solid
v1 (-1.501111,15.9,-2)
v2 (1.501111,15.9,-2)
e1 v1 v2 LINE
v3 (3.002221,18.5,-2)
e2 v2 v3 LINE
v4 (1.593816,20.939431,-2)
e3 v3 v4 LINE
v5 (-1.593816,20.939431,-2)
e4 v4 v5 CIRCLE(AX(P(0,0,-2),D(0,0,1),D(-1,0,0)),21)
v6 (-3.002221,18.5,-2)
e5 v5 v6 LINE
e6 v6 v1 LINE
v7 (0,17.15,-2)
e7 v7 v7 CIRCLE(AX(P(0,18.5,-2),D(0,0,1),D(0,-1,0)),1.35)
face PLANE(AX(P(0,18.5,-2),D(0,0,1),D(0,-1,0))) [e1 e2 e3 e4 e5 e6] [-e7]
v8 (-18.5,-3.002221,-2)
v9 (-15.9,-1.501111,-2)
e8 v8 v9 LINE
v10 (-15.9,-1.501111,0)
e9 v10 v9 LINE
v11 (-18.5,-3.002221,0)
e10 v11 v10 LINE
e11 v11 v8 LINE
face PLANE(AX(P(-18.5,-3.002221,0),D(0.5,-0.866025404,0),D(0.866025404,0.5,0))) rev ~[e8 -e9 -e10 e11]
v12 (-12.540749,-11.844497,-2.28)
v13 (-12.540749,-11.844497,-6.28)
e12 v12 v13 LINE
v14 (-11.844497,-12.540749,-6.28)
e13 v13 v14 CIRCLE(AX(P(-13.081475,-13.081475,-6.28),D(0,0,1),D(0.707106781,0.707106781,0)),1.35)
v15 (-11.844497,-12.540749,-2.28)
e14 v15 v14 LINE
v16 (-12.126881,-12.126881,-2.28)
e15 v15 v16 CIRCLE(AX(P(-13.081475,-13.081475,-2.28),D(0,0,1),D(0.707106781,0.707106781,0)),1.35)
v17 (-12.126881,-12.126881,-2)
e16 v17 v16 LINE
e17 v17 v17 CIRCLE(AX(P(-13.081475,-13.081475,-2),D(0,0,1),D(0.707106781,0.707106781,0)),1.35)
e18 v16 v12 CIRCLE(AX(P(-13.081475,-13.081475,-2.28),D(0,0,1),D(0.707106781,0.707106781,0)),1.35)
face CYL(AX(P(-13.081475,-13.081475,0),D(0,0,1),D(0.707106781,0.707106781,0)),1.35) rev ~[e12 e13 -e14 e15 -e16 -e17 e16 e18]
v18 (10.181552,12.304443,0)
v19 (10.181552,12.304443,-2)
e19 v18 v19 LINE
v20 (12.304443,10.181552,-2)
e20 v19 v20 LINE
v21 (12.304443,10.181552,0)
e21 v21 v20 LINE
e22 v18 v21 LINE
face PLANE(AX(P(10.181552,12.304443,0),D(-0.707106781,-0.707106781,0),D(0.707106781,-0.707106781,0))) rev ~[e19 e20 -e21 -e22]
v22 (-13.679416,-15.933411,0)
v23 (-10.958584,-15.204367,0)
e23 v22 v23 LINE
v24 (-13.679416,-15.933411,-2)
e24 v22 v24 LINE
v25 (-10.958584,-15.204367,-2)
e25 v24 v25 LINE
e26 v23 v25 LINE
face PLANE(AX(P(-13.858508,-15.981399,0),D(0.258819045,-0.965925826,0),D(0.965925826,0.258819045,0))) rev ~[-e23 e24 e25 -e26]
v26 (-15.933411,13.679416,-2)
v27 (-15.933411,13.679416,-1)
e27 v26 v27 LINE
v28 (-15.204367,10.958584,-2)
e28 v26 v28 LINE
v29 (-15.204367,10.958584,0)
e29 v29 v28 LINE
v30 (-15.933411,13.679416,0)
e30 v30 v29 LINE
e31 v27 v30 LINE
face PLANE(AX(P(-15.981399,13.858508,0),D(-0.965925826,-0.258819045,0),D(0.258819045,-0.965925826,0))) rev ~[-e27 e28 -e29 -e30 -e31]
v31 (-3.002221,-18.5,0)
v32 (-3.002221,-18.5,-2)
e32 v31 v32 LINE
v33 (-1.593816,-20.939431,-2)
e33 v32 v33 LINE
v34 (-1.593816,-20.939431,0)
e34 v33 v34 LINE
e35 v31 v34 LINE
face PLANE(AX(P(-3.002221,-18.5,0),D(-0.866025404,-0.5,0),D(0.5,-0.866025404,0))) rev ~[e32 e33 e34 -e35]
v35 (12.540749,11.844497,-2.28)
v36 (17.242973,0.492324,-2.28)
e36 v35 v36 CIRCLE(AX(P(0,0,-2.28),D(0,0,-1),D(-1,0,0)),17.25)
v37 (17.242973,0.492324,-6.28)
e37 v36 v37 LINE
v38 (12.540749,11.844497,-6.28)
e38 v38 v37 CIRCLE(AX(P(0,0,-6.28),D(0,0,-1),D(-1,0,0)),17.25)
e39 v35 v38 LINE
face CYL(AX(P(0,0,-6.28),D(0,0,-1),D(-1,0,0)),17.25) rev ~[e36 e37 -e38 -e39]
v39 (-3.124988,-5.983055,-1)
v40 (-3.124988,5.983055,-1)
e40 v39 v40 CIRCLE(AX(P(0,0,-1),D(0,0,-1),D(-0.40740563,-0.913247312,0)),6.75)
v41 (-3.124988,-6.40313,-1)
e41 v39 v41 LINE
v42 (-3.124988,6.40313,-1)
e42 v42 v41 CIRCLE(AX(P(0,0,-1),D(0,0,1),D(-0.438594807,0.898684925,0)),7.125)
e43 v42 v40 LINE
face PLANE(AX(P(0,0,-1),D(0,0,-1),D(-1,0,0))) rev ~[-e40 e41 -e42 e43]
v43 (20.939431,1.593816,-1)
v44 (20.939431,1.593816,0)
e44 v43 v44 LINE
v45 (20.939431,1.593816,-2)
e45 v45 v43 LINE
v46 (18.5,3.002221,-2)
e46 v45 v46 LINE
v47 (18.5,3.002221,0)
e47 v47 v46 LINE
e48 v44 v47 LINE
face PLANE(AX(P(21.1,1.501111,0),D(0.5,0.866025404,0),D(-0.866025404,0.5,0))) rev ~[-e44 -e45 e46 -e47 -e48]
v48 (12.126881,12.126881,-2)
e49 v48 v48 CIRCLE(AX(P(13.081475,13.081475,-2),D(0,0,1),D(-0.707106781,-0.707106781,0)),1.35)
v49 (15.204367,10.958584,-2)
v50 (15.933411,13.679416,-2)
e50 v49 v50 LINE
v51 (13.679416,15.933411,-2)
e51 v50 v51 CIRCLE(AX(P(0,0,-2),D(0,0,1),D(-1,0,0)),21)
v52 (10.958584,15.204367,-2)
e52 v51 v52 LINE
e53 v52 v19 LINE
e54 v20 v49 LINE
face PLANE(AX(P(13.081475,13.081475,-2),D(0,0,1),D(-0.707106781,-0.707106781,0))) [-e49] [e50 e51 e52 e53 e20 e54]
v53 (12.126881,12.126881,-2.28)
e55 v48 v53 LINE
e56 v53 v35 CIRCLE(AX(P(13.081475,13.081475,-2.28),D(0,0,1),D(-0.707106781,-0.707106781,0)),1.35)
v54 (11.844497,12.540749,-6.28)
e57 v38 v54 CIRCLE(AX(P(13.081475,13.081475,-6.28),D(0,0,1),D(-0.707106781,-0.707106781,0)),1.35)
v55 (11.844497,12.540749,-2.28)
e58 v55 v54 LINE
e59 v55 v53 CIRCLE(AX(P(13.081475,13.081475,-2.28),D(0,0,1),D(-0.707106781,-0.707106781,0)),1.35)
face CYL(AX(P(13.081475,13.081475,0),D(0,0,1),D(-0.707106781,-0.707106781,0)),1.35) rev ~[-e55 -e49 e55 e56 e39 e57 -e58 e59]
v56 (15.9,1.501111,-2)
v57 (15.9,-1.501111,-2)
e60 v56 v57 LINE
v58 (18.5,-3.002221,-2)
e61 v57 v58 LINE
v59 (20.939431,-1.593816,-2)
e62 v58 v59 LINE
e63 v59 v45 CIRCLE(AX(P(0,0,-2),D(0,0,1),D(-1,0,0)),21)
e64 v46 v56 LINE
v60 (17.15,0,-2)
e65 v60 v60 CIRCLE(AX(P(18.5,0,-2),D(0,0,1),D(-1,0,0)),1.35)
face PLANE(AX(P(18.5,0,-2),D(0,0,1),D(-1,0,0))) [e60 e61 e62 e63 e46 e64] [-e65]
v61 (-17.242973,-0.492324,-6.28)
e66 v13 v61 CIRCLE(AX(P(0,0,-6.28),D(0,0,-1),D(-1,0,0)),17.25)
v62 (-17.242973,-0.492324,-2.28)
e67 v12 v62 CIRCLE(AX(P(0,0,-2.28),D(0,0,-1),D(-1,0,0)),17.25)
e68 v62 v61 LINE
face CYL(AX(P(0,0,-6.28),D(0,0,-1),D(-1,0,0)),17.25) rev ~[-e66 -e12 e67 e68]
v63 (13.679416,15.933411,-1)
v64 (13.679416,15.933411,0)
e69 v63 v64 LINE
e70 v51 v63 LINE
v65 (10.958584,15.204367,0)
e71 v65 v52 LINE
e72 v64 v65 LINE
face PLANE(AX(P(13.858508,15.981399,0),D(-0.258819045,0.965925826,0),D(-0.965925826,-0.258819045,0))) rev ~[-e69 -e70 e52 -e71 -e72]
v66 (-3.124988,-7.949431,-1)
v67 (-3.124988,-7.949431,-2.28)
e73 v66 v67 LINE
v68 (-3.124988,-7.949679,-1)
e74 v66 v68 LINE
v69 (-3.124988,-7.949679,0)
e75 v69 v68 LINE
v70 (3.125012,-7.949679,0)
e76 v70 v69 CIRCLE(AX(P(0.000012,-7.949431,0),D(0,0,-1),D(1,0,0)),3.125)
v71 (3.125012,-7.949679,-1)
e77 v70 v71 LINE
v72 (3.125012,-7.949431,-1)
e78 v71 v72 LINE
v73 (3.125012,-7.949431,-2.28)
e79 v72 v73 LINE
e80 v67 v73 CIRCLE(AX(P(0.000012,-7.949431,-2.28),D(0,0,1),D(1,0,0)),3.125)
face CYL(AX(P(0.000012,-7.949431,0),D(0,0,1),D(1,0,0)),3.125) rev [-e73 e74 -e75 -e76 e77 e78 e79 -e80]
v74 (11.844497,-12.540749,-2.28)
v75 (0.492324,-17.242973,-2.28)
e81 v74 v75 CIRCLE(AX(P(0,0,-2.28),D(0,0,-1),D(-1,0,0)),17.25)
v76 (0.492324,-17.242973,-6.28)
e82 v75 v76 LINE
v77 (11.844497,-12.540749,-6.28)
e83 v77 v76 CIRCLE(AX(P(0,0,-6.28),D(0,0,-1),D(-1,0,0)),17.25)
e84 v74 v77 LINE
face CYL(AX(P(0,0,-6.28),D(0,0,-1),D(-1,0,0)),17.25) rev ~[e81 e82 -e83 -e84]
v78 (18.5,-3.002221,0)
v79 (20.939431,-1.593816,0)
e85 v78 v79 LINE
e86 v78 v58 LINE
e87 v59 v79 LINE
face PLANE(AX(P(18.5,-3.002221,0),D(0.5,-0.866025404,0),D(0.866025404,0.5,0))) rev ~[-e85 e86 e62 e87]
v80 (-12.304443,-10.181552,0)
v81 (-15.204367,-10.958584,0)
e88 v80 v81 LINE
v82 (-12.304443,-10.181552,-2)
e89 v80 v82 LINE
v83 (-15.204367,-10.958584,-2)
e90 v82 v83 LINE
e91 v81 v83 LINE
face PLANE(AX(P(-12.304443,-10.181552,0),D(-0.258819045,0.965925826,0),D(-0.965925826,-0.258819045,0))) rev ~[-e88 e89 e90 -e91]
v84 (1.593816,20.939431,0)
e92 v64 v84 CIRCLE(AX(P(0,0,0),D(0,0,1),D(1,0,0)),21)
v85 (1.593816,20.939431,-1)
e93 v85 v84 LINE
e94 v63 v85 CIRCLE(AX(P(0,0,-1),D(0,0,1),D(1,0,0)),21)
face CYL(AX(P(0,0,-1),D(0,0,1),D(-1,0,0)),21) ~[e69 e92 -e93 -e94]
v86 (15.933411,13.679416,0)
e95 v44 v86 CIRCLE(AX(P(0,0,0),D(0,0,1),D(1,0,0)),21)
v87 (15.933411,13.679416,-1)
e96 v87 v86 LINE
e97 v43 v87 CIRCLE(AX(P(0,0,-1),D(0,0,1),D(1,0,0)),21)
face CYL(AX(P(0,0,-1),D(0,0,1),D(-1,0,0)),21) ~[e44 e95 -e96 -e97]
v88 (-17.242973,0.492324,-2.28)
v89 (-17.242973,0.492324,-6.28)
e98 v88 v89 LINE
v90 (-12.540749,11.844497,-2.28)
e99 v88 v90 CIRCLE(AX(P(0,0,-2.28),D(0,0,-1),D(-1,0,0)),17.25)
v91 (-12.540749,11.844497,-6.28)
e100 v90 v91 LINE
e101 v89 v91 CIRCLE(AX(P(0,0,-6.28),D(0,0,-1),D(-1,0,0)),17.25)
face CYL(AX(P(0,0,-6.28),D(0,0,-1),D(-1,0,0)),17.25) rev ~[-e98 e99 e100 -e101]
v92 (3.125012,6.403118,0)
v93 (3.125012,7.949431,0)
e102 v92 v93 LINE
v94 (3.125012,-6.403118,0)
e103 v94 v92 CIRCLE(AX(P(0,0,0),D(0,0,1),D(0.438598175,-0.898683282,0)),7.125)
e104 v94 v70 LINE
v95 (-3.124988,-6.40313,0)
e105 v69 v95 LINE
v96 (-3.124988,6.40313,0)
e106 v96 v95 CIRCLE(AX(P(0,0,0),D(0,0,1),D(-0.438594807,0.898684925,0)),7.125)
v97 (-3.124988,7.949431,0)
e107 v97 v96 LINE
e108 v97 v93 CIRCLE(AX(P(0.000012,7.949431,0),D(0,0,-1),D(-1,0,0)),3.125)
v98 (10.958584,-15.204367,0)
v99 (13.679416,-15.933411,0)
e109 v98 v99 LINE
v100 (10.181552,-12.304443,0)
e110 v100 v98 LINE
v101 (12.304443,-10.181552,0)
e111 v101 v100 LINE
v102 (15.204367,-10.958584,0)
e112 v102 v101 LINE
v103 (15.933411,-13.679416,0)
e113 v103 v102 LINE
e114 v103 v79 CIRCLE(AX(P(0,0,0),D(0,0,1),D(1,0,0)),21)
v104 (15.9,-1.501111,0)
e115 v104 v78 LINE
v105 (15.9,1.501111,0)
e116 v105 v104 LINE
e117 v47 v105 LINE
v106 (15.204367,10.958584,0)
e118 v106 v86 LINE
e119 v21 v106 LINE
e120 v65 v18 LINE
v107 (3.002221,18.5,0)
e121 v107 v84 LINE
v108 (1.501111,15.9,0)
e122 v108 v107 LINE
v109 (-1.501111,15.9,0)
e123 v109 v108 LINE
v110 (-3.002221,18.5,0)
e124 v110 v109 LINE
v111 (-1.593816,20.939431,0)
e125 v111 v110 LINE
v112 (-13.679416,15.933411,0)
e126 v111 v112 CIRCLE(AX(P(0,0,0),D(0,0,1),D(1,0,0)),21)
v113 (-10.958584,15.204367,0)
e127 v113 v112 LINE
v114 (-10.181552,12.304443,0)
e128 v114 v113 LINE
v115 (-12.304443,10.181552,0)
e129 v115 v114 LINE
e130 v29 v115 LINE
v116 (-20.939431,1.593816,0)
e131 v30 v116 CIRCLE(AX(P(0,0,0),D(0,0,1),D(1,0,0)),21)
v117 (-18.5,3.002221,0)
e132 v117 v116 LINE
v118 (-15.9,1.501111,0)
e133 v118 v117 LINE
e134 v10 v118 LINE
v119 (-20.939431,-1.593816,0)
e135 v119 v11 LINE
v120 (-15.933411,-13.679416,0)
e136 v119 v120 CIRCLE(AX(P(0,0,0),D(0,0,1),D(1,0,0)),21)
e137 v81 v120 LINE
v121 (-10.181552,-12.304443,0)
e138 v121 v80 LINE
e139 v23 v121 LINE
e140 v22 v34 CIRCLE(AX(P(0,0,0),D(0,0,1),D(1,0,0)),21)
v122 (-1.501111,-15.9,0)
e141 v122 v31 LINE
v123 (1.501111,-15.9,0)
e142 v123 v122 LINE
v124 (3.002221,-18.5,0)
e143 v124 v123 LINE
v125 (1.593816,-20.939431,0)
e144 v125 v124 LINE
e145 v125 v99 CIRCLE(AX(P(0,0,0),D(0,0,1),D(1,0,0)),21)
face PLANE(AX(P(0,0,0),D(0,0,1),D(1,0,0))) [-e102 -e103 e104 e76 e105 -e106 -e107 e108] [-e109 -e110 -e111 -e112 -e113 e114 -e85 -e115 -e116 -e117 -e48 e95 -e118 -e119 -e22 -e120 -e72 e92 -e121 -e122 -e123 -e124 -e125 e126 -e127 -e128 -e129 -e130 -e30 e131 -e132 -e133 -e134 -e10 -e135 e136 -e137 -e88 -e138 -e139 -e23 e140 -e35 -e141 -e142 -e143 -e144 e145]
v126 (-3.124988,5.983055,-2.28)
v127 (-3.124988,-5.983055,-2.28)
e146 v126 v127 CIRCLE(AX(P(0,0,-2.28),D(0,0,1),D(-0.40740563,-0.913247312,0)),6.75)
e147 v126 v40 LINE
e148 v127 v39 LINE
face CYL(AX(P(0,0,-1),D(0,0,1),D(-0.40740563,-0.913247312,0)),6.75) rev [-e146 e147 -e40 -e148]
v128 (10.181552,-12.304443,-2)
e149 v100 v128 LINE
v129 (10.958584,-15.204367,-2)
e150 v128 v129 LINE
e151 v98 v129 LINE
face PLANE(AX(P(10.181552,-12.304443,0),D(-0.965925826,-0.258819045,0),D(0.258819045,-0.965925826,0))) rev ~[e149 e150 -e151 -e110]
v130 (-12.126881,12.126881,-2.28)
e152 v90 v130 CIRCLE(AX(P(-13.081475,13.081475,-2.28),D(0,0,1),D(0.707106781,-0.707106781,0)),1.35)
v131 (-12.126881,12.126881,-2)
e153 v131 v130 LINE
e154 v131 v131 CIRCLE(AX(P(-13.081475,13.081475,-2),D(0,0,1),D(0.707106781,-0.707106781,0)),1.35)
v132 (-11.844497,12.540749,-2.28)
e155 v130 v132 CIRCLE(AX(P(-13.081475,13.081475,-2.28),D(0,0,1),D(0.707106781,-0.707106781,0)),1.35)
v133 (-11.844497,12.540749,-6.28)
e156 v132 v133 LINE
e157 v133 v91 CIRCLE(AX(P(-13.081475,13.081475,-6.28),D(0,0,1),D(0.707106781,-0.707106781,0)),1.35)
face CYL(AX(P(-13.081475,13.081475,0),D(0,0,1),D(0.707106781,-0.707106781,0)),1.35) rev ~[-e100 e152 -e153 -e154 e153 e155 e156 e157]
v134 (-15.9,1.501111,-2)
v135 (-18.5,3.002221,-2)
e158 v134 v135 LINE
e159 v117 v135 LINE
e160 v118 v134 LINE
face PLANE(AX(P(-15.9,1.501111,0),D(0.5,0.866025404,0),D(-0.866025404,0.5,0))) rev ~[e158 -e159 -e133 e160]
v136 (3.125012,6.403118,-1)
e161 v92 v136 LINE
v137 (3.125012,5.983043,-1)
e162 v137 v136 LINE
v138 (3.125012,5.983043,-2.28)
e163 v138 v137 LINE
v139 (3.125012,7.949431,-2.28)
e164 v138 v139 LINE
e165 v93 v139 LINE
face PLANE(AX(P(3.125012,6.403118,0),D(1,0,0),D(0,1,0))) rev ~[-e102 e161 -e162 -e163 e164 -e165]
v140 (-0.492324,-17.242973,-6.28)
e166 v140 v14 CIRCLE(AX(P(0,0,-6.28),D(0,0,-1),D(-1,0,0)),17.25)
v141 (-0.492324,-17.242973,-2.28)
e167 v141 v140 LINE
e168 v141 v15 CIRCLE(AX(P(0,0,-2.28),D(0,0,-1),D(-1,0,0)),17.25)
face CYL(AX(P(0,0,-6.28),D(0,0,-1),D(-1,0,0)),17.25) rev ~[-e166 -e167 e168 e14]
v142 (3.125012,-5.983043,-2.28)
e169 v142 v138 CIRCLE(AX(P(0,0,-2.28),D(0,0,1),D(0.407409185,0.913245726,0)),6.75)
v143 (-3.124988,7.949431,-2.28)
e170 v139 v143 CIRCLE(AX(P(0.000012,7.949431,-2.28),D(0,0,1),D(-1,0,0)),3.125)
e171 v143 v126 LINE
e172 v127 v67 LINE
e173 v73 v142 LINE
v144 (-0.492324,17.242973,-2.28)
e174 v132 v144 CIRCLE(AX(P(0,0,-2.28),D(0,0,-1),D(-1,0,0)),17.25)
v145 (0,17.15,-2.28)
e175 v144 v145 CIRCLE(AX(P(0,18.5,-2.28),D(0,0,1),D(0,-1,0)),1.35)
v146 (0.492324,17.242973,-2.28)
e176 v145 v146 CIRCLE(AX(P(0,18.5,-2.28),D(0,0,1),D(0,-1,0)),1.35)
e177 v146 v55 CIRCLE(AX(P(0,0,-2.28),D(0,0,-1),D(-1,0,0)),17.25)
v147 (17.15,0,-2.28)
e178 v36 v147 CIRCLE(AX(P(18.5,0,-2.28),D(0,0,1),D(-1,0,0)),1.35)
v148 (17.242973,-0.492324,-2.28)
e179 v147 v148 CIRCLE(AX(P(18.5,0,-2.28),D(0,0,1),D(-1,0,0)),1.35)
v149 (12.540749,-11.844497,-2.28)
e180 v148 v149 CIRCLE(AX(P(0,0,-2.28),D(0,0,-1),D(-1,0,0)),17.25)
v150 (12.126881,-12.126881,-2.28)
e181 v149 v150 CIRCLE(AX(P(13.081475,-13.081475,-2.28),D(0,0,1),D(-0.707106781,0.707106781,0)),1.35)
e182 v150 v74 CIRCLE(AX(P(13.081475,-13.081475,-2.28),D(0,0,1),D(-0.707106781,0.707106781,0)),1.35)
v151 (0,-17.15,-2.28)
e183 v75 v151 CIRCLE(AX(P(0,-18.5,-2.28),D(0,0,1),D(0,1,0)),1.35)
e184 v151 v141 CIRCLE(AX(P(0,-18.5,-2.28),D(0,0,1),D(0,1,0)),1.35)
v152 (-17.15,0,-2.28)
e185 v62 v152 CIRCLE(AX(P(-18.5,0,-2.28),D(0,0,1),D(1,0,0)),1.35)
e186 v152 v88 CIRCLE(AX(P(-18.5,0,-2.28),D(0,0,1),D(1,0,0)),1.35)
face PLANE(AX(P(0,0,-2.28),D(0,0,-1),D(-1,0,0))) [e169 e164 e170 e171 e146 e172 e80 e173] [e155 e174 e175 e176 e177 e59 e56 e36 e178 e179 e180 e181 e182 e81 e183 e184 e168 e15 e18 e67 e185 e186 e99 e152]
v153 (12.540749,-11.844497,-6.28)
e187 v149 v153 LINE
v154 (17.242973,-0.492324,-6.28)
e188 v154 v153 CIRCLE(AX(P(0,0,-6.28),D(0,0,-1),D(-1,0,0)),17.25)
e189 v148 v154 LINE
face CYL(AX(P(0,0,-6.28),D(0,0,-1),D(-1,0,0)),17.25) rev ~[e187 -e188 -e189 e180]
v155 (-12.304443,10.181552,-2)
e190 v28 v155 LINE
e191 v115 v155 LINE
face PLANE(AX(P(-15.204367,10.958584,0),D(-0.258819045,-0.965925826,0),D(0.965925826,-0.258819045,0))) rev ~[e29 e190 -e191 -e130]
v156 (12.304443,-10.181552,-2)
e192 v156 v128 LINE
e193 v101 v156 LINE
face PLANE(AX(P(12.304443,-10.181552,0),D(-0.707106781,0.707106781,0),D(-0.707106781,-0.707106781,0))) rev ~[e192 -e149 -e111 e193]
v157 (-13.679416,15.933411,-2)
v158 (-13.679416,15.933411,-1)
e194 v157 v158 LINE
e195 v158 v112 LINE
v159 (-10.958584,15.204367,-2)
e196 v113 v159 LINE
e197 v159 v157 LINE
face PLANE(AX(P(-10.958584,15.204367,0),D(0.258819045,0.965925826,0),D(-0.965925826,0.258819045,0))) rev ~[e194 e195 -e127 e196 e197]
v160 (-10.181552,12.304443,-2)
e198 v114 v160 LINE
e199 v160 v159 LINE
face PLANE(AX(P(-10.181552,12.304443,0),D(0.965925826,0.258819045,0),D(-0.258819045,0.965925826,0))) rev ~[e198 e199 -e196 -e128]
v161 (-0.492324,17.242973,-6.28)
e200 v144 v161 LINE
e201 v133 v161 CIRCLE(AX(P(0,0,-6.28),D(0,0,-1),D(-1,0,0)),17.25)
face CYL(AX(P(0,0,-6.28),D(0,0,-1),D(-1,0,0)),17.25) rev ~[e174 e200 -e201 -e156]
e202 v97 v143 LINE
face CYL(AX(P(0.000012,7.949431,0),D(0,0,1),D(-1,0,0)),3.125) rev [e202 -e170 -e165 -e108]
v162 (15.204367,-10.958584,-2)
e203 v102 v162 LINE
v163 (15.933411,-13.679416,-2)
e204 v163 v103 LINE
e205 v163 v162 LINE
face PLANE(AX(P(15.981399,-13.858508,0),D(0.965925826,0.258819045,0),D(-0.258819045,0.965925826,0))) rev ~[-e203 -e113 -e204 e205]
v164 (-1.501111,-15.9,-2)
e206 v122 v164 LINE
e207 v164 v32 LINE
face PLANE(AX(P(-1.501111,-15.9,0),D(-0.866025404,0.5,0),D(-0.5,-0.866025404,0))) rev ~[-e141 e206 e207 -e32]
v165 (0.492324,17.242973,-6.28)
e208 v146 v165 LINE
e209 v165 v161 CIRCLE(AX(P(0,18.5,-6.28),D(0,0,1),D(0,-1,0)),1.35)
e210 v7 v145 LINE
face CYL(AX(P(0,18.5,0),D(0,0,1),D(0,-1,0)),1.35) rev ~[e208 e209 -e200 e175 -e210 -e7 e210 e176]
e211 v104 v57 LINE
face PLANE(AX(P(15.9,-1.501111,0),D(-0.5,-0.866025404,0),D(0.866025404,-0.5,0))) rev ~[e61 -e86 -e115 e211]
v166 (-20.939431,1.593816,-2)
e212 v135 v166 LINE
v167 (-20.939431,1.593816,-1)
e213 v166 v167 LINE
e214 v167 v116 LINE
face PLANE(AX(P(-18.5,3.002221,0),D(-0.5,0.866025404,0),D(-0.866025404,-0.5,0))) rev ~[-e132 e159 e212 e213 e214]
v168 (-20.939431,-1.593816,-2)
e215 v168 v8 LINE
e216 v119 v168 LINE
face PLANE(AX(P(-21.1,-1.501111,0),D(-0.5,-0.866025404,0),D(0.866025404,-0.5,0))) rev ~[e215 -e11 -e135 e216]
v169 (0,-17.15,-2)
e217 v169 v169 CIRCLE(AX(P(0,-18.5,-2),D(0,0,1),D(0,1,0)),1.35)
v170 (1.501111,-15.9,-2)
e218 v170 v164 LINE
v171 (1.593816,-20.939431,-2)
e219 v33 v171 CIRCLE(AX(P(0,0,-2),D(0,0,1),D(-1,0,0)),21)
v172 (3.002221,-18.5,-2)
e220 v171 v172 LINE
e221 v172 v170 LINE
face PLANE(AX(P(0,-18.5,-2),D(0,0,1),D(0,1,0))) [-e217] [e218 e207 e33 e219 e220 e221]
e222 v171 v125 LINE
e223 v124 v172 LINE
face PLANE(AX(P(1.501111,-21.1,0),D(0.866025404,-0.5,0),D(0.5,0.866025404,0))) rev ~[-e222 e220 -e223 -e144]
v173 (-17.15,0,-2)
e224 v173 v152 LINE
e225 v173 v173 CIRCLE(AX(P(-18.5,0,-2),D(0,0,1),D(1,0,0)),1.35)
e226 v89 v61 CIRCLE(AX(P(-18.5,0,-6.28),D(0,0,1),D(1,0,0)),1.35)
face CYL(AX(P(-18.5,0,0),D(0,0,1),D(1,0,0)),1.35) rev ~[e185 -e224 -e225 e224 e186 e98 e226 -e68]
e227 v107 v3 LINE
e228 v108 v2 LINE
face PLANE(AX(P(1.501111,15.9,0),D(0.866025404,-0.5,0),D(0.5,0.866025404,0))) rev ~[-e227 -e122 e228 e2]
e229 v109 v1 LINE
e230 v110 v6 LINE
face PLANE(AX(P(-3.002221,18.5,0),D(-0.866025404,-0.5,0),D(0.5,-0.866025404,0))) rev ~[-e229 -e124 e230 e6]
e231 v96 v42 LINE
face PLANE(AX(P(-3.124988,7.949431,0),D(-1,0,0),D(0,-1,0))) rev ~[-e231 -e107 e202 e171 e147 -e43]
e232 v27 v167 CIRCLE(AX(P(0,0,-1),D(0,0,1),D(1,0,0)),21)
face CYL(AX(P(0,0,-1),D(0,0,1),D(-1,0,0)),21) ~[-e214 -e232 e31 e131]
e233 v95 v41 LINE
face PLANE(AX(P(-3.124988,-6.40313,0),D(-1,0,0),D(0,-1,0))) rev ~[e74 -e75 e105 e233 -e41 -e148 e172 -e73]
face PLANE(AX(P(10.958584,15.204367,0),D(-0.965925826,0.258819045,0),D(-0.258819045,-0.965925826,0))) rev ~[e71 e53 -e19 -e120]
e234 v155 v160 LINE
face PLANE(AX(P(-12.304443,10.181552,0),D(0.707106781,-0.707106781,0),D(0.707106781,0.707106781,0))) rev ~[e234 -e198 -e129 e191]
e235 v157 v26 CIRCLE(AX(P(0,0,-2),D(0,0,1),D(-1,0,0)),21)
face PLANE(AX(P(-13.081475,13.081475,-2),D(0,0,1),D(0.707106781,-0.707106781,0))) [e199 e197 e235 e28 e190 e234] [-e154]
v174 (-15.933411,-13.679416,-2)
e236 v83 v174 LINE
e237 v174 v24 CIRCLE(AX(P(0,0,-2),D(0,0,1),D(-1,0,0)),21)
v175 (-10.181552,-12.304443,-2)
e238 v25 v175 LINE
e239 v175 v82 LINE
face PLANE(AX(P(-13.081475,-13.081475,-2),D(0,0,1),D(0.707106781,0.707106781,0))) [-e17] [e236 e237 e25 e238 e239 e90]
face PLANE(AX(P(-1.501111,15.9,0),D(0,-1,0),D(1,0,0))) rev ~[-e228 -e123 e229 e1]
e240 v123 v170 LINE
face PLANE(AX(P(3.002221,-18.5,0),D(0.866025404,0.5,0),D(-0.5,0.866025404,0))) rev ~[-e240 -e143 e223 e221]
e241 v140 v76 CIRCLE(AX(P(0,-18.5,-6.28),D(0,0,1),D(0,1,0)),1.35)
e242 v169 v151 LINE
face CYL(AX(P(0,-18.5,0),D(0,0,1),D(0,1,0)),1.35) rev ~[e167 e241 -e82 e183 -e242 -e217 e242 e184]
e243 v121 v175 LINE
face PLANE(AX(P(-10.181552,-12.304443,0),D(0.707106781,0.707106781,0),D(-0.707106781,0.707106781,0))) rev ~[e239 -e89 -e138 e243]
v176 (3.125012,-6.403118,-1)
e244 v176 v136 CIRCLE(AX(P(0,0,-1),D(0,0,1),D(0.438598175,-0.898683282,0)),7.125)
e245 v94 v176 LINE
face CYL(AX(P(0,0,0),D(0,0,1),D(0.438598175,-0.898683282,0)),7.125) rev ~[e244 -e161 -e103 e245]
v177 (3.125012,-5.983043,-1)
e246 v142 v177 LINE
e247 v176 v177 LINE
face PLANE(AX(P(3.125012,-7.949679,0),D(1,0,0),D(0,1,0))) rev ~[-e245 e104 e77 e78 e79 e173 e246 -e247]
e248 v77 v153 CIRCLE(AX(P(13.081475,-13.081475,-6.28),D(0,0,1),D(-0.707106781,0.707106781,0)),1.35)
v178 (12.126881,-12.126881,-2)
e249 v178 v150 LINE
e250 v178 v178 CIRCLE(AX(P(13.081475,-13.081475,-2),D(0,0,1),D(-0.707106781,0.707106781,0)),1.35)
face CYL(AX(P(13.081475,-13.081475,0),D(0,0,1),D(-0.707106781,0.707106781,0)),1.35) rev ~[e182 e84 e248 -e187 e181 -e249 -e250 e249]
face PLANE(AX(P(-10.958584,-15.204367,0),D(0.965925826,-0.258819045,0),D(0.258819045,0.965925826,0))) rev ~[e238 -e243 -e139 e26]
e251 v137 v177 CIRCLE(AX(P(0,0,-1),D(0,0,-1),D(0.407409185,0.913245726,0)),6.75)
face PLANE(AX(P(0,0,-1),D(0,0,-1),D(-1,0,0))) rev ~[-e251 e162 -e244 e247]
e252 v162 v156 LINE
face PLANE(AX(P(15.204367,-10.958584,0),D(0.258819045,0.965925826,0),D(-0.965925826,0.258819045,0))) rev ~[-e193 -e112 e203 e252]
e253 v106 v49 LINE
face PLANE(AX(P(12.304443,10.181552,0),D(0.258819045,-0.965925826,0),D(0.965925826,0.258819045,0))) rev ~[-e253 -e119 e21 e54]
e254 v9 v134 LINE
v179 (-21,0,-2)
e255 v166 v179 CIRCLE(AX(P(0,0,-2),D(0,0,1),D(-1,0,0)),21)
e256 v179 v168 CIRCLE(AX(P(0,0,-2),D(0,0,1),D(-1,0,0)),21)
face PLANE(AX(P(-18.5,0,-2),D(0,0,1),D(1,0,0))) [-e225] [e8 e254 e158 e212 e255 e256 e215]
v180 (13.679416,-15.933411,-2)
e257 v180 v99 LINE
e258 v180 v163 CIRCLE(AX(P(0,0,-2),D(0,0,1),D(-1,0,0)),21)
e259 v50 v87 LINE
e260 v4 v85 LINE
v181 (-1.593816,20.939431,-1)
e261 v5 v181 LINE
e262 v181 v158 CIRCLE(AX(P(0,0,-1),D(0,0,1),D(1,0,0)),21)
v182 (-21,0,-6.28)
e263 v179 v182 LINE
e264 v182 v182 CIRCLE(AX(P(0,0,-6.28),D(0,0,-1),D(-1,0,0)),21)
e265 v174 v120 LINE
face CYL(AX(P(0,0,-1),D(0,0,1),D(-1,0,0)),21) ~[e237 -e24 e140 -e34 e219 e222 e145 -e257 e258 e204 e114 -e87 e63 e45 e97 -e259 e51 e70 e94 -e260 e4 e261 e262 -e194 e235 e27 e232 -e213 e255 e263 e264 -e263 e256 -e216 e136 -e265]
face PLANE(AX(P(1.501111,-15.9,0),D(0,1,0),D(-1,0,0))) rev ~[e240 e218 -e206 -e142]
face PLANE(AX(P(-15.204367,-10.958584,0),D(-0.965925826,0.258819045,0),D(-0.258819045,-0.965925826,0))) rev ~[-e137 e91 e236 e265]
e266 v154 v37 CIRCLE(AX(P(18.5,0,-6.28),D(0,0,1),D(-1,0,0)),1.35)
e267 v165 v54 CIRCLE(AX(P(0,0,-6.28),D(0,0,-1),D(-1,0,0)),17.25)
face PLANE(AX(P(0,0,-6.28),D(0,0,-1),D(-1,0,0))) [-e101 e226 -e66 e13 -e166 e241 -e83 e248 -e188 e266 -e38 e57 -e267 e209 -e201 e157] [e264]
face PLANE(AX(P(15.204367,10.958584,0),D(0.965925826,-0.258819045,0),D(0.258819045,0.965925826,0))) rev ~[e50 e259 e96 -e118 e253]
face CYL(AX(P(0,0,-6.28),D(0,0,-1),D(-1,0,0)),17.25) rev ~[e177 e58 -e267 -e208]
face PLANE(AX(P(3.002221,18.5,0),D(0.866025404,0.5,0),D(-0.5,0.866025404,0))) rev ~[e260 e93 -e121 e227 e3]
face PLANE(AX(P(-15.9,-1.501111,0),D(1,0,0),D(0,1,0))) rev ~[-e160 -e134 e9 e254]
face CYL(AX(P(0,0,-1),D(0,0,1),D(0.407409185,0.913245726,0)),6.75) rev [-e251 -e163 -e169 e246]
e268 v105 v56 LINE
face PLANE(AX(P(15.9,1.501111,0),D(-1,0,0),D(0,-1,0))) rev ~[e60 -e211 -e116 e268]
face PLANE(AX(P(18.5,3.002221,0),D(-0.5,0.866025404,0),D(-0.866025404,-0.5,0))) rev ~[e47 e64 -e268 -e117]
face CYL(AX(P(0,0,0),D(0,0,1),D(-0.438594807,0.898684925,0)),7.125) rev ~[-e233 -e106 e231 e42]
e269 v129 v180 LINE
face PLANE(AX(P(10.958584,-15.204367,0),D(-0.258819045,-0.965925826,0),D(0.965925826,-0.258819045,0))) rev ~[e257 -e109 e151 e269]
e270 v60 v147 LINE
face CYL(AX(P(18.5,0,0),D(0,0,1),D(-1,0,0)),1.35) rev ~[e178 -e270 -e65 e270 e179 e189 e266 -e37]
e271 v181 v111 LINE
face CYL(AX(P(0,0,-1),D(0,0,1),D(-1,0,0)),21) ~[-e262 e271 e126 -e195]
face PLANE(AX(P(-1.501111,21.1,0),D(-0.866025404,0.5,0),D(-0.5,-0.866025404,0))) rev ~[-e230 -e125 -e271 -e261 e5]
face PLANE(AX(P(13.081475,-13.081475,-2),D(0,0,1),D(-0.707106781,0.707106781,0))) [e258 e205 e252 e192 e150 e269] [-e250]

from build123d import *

# Parameters (mm, degrees)
SKETCH3_R           = 21
BOSS_EXTRUDE2_DEPTH = 1
SKETCH4_R           = 21
BOSS_EXTRUDE3_DEPTH = 5.28
SKETCH5_R           = 17.25
CUT_EXTRUDE1_DEPTH  = 4
CUT_EXTRUDE2_DEPTH  = 2
SKETCH8_R           = 1.35
CUT_EXTRUDE4_DEPTH  = 31.355203837
CIRPATTERN1_COUNT   = 8
CUT_EXTRUDE5_DEPTH  = 31.355203837


with BuildPart() as part:
    # Sketch3 → Boss-Extrude2 (new body)
    with BuildSketch(Plane.XY):
        Circle(SKETCH3_R)
        with BuildLine():
            Line((-3.124988, -6.403130094), (-3.124988, -7.949679))
            Line((-3.124988, -7.949679), (3.125012, -7.949679))
            Line((3.125012, -7.949679), (3.125012, -6.403118381))
            ThreePointArc((3.125012, -6.403118381), (7.125, 0), (3.125012, 6.403118381))
            Line((3.125012, 6.403118381), (3.125012, 7.949431))
            Line((3.125012, 7.949431), (-3.124988, 7.949431))
            Line((-3.124988, 7.949431), (-3.124988, 6.403130094))
            ThreePointArc((-3.124988, 6.403130094), (-7.125, 0), (-3.124988, -6.403130094))
        make_face(mode=Mode.SUBTRACT)
    extrude(amount=-BOSS_EXTRUDE2_DEPTH)

    # Sketch4 → Boss-Extrude3 (add)
    with BuildSketch(Plane(origin=(0, 0, -1), x_dir=(-1, 0, 0), z_dir=(0, 0, -1))):
        Circle(SKETCH4_R)
        with BuildLine():
            Line((2.749988, 6.164419356), (2.749988, 7.574431))
            Line((2.749988, 7.574431), (-2.750012, 7.574431))
            Line((-2.750012, 7.574431), (-2.750012, 6.16440865))
            ThreePointArc((-2.750012, 6.16440865), (-6.75, 0), (-2.750012, -6.16440865))
            Line((-2.750012, -6.16440865), (-2.750012, -7.574679))
            Line((-2.750012, -7.574679), (2.749988, -7.574679))
            Line((2.749988, -7.574679), (2.749988, -6.164419356))
            ThreePointArc((2.749988, -6.164419356), (6.75, 0), (2.749988, 6.164419356))
        make_face(mode=Mode.SUBTRACT)
    extrude(amount=BOSS_EXTRUDE3_DEPTH)

    # Sketch5 → Cut-Extrude1 (cut)
    with BuildSketch(Plane(origin=(0, 0, -6.28), x_dir=(-1, 0, 0), z_dir=(0, 0, -1))):
        Circle(SKETCH5_R)
    extrude(amount=-CUT_EXTRUDE1_DEPTH, mode=Mode.SUBTRACT)

    # Sketch6 → Cut-Extrude2 (cut)
    with BuildSketch(Plane.XY):
        Polygon((-21.1, -1.5011107), (-18.5, -3.0022214), (-15.9, -1.5011107), (-15.9, 1.5011107), (-18.5, 3.0022214), (-21.1, 1.5011107), align=None)
    cut_extrude2 = extrude(amount=-CUT_EXTRUDE2_DEPTH, mode=Mode.SUBTRACT)

    # Sketch8 → Cut-Extrude4 (cut, through all)
    with BuildSketch(Plane.XY):
        with Locations((-18.5, 0)):
            Circle(SKETCH8_R)
    cut_extrude4 = extrude(amount=-CUT_EXTRUDE4_DEPTH, mode=Mode.SUBTRACT)

    # CirPattern1: Cut-Extrude2, Cut-Extrude4 ×8 about axis
    cirpattern1_axis = Axis((0, 0, -6.594), (0, 0, 1))
    add([cut_extrude2.rotate(cirpattern1_axis, i * 360 / CIRPATTERN1_COUNT) for i in range(1, CIRPATTERN1_COUNT)], mode=Mode.SUBTRACT)
    add([cut_extrude4.rotate(cirpattern1_axis, i * 360 / CIRPATTERN1_COUNT) for i in range(1, CIRPATTERN1_COUNT)], mode=Mode.SUBTRACT)

    # Sketch9 → Cut-Extrude5 (cut, through all)
    with BuildSketch(Plane.XY):
        with BuildLine():
            Line((3.125012, 7.949431), (3.125012, -7.949431))
            ThreePointArc((3.125012, -7.949431), (1.2e-05, -11.074431), (-3.124988, -7.949431))
            Line((-3.124988, -7.949431), (-3.124988, 7.949431))
            ThreePointArc((-3.124988, 7.949431), (1.2e-05, 11.074431), (3.125012, 7.949431))
        make_face()
    extrude(amount=-CUT_EXTRUDE5_DEPTH, mode=Mode.SUBTRACT)


solid = part.part
